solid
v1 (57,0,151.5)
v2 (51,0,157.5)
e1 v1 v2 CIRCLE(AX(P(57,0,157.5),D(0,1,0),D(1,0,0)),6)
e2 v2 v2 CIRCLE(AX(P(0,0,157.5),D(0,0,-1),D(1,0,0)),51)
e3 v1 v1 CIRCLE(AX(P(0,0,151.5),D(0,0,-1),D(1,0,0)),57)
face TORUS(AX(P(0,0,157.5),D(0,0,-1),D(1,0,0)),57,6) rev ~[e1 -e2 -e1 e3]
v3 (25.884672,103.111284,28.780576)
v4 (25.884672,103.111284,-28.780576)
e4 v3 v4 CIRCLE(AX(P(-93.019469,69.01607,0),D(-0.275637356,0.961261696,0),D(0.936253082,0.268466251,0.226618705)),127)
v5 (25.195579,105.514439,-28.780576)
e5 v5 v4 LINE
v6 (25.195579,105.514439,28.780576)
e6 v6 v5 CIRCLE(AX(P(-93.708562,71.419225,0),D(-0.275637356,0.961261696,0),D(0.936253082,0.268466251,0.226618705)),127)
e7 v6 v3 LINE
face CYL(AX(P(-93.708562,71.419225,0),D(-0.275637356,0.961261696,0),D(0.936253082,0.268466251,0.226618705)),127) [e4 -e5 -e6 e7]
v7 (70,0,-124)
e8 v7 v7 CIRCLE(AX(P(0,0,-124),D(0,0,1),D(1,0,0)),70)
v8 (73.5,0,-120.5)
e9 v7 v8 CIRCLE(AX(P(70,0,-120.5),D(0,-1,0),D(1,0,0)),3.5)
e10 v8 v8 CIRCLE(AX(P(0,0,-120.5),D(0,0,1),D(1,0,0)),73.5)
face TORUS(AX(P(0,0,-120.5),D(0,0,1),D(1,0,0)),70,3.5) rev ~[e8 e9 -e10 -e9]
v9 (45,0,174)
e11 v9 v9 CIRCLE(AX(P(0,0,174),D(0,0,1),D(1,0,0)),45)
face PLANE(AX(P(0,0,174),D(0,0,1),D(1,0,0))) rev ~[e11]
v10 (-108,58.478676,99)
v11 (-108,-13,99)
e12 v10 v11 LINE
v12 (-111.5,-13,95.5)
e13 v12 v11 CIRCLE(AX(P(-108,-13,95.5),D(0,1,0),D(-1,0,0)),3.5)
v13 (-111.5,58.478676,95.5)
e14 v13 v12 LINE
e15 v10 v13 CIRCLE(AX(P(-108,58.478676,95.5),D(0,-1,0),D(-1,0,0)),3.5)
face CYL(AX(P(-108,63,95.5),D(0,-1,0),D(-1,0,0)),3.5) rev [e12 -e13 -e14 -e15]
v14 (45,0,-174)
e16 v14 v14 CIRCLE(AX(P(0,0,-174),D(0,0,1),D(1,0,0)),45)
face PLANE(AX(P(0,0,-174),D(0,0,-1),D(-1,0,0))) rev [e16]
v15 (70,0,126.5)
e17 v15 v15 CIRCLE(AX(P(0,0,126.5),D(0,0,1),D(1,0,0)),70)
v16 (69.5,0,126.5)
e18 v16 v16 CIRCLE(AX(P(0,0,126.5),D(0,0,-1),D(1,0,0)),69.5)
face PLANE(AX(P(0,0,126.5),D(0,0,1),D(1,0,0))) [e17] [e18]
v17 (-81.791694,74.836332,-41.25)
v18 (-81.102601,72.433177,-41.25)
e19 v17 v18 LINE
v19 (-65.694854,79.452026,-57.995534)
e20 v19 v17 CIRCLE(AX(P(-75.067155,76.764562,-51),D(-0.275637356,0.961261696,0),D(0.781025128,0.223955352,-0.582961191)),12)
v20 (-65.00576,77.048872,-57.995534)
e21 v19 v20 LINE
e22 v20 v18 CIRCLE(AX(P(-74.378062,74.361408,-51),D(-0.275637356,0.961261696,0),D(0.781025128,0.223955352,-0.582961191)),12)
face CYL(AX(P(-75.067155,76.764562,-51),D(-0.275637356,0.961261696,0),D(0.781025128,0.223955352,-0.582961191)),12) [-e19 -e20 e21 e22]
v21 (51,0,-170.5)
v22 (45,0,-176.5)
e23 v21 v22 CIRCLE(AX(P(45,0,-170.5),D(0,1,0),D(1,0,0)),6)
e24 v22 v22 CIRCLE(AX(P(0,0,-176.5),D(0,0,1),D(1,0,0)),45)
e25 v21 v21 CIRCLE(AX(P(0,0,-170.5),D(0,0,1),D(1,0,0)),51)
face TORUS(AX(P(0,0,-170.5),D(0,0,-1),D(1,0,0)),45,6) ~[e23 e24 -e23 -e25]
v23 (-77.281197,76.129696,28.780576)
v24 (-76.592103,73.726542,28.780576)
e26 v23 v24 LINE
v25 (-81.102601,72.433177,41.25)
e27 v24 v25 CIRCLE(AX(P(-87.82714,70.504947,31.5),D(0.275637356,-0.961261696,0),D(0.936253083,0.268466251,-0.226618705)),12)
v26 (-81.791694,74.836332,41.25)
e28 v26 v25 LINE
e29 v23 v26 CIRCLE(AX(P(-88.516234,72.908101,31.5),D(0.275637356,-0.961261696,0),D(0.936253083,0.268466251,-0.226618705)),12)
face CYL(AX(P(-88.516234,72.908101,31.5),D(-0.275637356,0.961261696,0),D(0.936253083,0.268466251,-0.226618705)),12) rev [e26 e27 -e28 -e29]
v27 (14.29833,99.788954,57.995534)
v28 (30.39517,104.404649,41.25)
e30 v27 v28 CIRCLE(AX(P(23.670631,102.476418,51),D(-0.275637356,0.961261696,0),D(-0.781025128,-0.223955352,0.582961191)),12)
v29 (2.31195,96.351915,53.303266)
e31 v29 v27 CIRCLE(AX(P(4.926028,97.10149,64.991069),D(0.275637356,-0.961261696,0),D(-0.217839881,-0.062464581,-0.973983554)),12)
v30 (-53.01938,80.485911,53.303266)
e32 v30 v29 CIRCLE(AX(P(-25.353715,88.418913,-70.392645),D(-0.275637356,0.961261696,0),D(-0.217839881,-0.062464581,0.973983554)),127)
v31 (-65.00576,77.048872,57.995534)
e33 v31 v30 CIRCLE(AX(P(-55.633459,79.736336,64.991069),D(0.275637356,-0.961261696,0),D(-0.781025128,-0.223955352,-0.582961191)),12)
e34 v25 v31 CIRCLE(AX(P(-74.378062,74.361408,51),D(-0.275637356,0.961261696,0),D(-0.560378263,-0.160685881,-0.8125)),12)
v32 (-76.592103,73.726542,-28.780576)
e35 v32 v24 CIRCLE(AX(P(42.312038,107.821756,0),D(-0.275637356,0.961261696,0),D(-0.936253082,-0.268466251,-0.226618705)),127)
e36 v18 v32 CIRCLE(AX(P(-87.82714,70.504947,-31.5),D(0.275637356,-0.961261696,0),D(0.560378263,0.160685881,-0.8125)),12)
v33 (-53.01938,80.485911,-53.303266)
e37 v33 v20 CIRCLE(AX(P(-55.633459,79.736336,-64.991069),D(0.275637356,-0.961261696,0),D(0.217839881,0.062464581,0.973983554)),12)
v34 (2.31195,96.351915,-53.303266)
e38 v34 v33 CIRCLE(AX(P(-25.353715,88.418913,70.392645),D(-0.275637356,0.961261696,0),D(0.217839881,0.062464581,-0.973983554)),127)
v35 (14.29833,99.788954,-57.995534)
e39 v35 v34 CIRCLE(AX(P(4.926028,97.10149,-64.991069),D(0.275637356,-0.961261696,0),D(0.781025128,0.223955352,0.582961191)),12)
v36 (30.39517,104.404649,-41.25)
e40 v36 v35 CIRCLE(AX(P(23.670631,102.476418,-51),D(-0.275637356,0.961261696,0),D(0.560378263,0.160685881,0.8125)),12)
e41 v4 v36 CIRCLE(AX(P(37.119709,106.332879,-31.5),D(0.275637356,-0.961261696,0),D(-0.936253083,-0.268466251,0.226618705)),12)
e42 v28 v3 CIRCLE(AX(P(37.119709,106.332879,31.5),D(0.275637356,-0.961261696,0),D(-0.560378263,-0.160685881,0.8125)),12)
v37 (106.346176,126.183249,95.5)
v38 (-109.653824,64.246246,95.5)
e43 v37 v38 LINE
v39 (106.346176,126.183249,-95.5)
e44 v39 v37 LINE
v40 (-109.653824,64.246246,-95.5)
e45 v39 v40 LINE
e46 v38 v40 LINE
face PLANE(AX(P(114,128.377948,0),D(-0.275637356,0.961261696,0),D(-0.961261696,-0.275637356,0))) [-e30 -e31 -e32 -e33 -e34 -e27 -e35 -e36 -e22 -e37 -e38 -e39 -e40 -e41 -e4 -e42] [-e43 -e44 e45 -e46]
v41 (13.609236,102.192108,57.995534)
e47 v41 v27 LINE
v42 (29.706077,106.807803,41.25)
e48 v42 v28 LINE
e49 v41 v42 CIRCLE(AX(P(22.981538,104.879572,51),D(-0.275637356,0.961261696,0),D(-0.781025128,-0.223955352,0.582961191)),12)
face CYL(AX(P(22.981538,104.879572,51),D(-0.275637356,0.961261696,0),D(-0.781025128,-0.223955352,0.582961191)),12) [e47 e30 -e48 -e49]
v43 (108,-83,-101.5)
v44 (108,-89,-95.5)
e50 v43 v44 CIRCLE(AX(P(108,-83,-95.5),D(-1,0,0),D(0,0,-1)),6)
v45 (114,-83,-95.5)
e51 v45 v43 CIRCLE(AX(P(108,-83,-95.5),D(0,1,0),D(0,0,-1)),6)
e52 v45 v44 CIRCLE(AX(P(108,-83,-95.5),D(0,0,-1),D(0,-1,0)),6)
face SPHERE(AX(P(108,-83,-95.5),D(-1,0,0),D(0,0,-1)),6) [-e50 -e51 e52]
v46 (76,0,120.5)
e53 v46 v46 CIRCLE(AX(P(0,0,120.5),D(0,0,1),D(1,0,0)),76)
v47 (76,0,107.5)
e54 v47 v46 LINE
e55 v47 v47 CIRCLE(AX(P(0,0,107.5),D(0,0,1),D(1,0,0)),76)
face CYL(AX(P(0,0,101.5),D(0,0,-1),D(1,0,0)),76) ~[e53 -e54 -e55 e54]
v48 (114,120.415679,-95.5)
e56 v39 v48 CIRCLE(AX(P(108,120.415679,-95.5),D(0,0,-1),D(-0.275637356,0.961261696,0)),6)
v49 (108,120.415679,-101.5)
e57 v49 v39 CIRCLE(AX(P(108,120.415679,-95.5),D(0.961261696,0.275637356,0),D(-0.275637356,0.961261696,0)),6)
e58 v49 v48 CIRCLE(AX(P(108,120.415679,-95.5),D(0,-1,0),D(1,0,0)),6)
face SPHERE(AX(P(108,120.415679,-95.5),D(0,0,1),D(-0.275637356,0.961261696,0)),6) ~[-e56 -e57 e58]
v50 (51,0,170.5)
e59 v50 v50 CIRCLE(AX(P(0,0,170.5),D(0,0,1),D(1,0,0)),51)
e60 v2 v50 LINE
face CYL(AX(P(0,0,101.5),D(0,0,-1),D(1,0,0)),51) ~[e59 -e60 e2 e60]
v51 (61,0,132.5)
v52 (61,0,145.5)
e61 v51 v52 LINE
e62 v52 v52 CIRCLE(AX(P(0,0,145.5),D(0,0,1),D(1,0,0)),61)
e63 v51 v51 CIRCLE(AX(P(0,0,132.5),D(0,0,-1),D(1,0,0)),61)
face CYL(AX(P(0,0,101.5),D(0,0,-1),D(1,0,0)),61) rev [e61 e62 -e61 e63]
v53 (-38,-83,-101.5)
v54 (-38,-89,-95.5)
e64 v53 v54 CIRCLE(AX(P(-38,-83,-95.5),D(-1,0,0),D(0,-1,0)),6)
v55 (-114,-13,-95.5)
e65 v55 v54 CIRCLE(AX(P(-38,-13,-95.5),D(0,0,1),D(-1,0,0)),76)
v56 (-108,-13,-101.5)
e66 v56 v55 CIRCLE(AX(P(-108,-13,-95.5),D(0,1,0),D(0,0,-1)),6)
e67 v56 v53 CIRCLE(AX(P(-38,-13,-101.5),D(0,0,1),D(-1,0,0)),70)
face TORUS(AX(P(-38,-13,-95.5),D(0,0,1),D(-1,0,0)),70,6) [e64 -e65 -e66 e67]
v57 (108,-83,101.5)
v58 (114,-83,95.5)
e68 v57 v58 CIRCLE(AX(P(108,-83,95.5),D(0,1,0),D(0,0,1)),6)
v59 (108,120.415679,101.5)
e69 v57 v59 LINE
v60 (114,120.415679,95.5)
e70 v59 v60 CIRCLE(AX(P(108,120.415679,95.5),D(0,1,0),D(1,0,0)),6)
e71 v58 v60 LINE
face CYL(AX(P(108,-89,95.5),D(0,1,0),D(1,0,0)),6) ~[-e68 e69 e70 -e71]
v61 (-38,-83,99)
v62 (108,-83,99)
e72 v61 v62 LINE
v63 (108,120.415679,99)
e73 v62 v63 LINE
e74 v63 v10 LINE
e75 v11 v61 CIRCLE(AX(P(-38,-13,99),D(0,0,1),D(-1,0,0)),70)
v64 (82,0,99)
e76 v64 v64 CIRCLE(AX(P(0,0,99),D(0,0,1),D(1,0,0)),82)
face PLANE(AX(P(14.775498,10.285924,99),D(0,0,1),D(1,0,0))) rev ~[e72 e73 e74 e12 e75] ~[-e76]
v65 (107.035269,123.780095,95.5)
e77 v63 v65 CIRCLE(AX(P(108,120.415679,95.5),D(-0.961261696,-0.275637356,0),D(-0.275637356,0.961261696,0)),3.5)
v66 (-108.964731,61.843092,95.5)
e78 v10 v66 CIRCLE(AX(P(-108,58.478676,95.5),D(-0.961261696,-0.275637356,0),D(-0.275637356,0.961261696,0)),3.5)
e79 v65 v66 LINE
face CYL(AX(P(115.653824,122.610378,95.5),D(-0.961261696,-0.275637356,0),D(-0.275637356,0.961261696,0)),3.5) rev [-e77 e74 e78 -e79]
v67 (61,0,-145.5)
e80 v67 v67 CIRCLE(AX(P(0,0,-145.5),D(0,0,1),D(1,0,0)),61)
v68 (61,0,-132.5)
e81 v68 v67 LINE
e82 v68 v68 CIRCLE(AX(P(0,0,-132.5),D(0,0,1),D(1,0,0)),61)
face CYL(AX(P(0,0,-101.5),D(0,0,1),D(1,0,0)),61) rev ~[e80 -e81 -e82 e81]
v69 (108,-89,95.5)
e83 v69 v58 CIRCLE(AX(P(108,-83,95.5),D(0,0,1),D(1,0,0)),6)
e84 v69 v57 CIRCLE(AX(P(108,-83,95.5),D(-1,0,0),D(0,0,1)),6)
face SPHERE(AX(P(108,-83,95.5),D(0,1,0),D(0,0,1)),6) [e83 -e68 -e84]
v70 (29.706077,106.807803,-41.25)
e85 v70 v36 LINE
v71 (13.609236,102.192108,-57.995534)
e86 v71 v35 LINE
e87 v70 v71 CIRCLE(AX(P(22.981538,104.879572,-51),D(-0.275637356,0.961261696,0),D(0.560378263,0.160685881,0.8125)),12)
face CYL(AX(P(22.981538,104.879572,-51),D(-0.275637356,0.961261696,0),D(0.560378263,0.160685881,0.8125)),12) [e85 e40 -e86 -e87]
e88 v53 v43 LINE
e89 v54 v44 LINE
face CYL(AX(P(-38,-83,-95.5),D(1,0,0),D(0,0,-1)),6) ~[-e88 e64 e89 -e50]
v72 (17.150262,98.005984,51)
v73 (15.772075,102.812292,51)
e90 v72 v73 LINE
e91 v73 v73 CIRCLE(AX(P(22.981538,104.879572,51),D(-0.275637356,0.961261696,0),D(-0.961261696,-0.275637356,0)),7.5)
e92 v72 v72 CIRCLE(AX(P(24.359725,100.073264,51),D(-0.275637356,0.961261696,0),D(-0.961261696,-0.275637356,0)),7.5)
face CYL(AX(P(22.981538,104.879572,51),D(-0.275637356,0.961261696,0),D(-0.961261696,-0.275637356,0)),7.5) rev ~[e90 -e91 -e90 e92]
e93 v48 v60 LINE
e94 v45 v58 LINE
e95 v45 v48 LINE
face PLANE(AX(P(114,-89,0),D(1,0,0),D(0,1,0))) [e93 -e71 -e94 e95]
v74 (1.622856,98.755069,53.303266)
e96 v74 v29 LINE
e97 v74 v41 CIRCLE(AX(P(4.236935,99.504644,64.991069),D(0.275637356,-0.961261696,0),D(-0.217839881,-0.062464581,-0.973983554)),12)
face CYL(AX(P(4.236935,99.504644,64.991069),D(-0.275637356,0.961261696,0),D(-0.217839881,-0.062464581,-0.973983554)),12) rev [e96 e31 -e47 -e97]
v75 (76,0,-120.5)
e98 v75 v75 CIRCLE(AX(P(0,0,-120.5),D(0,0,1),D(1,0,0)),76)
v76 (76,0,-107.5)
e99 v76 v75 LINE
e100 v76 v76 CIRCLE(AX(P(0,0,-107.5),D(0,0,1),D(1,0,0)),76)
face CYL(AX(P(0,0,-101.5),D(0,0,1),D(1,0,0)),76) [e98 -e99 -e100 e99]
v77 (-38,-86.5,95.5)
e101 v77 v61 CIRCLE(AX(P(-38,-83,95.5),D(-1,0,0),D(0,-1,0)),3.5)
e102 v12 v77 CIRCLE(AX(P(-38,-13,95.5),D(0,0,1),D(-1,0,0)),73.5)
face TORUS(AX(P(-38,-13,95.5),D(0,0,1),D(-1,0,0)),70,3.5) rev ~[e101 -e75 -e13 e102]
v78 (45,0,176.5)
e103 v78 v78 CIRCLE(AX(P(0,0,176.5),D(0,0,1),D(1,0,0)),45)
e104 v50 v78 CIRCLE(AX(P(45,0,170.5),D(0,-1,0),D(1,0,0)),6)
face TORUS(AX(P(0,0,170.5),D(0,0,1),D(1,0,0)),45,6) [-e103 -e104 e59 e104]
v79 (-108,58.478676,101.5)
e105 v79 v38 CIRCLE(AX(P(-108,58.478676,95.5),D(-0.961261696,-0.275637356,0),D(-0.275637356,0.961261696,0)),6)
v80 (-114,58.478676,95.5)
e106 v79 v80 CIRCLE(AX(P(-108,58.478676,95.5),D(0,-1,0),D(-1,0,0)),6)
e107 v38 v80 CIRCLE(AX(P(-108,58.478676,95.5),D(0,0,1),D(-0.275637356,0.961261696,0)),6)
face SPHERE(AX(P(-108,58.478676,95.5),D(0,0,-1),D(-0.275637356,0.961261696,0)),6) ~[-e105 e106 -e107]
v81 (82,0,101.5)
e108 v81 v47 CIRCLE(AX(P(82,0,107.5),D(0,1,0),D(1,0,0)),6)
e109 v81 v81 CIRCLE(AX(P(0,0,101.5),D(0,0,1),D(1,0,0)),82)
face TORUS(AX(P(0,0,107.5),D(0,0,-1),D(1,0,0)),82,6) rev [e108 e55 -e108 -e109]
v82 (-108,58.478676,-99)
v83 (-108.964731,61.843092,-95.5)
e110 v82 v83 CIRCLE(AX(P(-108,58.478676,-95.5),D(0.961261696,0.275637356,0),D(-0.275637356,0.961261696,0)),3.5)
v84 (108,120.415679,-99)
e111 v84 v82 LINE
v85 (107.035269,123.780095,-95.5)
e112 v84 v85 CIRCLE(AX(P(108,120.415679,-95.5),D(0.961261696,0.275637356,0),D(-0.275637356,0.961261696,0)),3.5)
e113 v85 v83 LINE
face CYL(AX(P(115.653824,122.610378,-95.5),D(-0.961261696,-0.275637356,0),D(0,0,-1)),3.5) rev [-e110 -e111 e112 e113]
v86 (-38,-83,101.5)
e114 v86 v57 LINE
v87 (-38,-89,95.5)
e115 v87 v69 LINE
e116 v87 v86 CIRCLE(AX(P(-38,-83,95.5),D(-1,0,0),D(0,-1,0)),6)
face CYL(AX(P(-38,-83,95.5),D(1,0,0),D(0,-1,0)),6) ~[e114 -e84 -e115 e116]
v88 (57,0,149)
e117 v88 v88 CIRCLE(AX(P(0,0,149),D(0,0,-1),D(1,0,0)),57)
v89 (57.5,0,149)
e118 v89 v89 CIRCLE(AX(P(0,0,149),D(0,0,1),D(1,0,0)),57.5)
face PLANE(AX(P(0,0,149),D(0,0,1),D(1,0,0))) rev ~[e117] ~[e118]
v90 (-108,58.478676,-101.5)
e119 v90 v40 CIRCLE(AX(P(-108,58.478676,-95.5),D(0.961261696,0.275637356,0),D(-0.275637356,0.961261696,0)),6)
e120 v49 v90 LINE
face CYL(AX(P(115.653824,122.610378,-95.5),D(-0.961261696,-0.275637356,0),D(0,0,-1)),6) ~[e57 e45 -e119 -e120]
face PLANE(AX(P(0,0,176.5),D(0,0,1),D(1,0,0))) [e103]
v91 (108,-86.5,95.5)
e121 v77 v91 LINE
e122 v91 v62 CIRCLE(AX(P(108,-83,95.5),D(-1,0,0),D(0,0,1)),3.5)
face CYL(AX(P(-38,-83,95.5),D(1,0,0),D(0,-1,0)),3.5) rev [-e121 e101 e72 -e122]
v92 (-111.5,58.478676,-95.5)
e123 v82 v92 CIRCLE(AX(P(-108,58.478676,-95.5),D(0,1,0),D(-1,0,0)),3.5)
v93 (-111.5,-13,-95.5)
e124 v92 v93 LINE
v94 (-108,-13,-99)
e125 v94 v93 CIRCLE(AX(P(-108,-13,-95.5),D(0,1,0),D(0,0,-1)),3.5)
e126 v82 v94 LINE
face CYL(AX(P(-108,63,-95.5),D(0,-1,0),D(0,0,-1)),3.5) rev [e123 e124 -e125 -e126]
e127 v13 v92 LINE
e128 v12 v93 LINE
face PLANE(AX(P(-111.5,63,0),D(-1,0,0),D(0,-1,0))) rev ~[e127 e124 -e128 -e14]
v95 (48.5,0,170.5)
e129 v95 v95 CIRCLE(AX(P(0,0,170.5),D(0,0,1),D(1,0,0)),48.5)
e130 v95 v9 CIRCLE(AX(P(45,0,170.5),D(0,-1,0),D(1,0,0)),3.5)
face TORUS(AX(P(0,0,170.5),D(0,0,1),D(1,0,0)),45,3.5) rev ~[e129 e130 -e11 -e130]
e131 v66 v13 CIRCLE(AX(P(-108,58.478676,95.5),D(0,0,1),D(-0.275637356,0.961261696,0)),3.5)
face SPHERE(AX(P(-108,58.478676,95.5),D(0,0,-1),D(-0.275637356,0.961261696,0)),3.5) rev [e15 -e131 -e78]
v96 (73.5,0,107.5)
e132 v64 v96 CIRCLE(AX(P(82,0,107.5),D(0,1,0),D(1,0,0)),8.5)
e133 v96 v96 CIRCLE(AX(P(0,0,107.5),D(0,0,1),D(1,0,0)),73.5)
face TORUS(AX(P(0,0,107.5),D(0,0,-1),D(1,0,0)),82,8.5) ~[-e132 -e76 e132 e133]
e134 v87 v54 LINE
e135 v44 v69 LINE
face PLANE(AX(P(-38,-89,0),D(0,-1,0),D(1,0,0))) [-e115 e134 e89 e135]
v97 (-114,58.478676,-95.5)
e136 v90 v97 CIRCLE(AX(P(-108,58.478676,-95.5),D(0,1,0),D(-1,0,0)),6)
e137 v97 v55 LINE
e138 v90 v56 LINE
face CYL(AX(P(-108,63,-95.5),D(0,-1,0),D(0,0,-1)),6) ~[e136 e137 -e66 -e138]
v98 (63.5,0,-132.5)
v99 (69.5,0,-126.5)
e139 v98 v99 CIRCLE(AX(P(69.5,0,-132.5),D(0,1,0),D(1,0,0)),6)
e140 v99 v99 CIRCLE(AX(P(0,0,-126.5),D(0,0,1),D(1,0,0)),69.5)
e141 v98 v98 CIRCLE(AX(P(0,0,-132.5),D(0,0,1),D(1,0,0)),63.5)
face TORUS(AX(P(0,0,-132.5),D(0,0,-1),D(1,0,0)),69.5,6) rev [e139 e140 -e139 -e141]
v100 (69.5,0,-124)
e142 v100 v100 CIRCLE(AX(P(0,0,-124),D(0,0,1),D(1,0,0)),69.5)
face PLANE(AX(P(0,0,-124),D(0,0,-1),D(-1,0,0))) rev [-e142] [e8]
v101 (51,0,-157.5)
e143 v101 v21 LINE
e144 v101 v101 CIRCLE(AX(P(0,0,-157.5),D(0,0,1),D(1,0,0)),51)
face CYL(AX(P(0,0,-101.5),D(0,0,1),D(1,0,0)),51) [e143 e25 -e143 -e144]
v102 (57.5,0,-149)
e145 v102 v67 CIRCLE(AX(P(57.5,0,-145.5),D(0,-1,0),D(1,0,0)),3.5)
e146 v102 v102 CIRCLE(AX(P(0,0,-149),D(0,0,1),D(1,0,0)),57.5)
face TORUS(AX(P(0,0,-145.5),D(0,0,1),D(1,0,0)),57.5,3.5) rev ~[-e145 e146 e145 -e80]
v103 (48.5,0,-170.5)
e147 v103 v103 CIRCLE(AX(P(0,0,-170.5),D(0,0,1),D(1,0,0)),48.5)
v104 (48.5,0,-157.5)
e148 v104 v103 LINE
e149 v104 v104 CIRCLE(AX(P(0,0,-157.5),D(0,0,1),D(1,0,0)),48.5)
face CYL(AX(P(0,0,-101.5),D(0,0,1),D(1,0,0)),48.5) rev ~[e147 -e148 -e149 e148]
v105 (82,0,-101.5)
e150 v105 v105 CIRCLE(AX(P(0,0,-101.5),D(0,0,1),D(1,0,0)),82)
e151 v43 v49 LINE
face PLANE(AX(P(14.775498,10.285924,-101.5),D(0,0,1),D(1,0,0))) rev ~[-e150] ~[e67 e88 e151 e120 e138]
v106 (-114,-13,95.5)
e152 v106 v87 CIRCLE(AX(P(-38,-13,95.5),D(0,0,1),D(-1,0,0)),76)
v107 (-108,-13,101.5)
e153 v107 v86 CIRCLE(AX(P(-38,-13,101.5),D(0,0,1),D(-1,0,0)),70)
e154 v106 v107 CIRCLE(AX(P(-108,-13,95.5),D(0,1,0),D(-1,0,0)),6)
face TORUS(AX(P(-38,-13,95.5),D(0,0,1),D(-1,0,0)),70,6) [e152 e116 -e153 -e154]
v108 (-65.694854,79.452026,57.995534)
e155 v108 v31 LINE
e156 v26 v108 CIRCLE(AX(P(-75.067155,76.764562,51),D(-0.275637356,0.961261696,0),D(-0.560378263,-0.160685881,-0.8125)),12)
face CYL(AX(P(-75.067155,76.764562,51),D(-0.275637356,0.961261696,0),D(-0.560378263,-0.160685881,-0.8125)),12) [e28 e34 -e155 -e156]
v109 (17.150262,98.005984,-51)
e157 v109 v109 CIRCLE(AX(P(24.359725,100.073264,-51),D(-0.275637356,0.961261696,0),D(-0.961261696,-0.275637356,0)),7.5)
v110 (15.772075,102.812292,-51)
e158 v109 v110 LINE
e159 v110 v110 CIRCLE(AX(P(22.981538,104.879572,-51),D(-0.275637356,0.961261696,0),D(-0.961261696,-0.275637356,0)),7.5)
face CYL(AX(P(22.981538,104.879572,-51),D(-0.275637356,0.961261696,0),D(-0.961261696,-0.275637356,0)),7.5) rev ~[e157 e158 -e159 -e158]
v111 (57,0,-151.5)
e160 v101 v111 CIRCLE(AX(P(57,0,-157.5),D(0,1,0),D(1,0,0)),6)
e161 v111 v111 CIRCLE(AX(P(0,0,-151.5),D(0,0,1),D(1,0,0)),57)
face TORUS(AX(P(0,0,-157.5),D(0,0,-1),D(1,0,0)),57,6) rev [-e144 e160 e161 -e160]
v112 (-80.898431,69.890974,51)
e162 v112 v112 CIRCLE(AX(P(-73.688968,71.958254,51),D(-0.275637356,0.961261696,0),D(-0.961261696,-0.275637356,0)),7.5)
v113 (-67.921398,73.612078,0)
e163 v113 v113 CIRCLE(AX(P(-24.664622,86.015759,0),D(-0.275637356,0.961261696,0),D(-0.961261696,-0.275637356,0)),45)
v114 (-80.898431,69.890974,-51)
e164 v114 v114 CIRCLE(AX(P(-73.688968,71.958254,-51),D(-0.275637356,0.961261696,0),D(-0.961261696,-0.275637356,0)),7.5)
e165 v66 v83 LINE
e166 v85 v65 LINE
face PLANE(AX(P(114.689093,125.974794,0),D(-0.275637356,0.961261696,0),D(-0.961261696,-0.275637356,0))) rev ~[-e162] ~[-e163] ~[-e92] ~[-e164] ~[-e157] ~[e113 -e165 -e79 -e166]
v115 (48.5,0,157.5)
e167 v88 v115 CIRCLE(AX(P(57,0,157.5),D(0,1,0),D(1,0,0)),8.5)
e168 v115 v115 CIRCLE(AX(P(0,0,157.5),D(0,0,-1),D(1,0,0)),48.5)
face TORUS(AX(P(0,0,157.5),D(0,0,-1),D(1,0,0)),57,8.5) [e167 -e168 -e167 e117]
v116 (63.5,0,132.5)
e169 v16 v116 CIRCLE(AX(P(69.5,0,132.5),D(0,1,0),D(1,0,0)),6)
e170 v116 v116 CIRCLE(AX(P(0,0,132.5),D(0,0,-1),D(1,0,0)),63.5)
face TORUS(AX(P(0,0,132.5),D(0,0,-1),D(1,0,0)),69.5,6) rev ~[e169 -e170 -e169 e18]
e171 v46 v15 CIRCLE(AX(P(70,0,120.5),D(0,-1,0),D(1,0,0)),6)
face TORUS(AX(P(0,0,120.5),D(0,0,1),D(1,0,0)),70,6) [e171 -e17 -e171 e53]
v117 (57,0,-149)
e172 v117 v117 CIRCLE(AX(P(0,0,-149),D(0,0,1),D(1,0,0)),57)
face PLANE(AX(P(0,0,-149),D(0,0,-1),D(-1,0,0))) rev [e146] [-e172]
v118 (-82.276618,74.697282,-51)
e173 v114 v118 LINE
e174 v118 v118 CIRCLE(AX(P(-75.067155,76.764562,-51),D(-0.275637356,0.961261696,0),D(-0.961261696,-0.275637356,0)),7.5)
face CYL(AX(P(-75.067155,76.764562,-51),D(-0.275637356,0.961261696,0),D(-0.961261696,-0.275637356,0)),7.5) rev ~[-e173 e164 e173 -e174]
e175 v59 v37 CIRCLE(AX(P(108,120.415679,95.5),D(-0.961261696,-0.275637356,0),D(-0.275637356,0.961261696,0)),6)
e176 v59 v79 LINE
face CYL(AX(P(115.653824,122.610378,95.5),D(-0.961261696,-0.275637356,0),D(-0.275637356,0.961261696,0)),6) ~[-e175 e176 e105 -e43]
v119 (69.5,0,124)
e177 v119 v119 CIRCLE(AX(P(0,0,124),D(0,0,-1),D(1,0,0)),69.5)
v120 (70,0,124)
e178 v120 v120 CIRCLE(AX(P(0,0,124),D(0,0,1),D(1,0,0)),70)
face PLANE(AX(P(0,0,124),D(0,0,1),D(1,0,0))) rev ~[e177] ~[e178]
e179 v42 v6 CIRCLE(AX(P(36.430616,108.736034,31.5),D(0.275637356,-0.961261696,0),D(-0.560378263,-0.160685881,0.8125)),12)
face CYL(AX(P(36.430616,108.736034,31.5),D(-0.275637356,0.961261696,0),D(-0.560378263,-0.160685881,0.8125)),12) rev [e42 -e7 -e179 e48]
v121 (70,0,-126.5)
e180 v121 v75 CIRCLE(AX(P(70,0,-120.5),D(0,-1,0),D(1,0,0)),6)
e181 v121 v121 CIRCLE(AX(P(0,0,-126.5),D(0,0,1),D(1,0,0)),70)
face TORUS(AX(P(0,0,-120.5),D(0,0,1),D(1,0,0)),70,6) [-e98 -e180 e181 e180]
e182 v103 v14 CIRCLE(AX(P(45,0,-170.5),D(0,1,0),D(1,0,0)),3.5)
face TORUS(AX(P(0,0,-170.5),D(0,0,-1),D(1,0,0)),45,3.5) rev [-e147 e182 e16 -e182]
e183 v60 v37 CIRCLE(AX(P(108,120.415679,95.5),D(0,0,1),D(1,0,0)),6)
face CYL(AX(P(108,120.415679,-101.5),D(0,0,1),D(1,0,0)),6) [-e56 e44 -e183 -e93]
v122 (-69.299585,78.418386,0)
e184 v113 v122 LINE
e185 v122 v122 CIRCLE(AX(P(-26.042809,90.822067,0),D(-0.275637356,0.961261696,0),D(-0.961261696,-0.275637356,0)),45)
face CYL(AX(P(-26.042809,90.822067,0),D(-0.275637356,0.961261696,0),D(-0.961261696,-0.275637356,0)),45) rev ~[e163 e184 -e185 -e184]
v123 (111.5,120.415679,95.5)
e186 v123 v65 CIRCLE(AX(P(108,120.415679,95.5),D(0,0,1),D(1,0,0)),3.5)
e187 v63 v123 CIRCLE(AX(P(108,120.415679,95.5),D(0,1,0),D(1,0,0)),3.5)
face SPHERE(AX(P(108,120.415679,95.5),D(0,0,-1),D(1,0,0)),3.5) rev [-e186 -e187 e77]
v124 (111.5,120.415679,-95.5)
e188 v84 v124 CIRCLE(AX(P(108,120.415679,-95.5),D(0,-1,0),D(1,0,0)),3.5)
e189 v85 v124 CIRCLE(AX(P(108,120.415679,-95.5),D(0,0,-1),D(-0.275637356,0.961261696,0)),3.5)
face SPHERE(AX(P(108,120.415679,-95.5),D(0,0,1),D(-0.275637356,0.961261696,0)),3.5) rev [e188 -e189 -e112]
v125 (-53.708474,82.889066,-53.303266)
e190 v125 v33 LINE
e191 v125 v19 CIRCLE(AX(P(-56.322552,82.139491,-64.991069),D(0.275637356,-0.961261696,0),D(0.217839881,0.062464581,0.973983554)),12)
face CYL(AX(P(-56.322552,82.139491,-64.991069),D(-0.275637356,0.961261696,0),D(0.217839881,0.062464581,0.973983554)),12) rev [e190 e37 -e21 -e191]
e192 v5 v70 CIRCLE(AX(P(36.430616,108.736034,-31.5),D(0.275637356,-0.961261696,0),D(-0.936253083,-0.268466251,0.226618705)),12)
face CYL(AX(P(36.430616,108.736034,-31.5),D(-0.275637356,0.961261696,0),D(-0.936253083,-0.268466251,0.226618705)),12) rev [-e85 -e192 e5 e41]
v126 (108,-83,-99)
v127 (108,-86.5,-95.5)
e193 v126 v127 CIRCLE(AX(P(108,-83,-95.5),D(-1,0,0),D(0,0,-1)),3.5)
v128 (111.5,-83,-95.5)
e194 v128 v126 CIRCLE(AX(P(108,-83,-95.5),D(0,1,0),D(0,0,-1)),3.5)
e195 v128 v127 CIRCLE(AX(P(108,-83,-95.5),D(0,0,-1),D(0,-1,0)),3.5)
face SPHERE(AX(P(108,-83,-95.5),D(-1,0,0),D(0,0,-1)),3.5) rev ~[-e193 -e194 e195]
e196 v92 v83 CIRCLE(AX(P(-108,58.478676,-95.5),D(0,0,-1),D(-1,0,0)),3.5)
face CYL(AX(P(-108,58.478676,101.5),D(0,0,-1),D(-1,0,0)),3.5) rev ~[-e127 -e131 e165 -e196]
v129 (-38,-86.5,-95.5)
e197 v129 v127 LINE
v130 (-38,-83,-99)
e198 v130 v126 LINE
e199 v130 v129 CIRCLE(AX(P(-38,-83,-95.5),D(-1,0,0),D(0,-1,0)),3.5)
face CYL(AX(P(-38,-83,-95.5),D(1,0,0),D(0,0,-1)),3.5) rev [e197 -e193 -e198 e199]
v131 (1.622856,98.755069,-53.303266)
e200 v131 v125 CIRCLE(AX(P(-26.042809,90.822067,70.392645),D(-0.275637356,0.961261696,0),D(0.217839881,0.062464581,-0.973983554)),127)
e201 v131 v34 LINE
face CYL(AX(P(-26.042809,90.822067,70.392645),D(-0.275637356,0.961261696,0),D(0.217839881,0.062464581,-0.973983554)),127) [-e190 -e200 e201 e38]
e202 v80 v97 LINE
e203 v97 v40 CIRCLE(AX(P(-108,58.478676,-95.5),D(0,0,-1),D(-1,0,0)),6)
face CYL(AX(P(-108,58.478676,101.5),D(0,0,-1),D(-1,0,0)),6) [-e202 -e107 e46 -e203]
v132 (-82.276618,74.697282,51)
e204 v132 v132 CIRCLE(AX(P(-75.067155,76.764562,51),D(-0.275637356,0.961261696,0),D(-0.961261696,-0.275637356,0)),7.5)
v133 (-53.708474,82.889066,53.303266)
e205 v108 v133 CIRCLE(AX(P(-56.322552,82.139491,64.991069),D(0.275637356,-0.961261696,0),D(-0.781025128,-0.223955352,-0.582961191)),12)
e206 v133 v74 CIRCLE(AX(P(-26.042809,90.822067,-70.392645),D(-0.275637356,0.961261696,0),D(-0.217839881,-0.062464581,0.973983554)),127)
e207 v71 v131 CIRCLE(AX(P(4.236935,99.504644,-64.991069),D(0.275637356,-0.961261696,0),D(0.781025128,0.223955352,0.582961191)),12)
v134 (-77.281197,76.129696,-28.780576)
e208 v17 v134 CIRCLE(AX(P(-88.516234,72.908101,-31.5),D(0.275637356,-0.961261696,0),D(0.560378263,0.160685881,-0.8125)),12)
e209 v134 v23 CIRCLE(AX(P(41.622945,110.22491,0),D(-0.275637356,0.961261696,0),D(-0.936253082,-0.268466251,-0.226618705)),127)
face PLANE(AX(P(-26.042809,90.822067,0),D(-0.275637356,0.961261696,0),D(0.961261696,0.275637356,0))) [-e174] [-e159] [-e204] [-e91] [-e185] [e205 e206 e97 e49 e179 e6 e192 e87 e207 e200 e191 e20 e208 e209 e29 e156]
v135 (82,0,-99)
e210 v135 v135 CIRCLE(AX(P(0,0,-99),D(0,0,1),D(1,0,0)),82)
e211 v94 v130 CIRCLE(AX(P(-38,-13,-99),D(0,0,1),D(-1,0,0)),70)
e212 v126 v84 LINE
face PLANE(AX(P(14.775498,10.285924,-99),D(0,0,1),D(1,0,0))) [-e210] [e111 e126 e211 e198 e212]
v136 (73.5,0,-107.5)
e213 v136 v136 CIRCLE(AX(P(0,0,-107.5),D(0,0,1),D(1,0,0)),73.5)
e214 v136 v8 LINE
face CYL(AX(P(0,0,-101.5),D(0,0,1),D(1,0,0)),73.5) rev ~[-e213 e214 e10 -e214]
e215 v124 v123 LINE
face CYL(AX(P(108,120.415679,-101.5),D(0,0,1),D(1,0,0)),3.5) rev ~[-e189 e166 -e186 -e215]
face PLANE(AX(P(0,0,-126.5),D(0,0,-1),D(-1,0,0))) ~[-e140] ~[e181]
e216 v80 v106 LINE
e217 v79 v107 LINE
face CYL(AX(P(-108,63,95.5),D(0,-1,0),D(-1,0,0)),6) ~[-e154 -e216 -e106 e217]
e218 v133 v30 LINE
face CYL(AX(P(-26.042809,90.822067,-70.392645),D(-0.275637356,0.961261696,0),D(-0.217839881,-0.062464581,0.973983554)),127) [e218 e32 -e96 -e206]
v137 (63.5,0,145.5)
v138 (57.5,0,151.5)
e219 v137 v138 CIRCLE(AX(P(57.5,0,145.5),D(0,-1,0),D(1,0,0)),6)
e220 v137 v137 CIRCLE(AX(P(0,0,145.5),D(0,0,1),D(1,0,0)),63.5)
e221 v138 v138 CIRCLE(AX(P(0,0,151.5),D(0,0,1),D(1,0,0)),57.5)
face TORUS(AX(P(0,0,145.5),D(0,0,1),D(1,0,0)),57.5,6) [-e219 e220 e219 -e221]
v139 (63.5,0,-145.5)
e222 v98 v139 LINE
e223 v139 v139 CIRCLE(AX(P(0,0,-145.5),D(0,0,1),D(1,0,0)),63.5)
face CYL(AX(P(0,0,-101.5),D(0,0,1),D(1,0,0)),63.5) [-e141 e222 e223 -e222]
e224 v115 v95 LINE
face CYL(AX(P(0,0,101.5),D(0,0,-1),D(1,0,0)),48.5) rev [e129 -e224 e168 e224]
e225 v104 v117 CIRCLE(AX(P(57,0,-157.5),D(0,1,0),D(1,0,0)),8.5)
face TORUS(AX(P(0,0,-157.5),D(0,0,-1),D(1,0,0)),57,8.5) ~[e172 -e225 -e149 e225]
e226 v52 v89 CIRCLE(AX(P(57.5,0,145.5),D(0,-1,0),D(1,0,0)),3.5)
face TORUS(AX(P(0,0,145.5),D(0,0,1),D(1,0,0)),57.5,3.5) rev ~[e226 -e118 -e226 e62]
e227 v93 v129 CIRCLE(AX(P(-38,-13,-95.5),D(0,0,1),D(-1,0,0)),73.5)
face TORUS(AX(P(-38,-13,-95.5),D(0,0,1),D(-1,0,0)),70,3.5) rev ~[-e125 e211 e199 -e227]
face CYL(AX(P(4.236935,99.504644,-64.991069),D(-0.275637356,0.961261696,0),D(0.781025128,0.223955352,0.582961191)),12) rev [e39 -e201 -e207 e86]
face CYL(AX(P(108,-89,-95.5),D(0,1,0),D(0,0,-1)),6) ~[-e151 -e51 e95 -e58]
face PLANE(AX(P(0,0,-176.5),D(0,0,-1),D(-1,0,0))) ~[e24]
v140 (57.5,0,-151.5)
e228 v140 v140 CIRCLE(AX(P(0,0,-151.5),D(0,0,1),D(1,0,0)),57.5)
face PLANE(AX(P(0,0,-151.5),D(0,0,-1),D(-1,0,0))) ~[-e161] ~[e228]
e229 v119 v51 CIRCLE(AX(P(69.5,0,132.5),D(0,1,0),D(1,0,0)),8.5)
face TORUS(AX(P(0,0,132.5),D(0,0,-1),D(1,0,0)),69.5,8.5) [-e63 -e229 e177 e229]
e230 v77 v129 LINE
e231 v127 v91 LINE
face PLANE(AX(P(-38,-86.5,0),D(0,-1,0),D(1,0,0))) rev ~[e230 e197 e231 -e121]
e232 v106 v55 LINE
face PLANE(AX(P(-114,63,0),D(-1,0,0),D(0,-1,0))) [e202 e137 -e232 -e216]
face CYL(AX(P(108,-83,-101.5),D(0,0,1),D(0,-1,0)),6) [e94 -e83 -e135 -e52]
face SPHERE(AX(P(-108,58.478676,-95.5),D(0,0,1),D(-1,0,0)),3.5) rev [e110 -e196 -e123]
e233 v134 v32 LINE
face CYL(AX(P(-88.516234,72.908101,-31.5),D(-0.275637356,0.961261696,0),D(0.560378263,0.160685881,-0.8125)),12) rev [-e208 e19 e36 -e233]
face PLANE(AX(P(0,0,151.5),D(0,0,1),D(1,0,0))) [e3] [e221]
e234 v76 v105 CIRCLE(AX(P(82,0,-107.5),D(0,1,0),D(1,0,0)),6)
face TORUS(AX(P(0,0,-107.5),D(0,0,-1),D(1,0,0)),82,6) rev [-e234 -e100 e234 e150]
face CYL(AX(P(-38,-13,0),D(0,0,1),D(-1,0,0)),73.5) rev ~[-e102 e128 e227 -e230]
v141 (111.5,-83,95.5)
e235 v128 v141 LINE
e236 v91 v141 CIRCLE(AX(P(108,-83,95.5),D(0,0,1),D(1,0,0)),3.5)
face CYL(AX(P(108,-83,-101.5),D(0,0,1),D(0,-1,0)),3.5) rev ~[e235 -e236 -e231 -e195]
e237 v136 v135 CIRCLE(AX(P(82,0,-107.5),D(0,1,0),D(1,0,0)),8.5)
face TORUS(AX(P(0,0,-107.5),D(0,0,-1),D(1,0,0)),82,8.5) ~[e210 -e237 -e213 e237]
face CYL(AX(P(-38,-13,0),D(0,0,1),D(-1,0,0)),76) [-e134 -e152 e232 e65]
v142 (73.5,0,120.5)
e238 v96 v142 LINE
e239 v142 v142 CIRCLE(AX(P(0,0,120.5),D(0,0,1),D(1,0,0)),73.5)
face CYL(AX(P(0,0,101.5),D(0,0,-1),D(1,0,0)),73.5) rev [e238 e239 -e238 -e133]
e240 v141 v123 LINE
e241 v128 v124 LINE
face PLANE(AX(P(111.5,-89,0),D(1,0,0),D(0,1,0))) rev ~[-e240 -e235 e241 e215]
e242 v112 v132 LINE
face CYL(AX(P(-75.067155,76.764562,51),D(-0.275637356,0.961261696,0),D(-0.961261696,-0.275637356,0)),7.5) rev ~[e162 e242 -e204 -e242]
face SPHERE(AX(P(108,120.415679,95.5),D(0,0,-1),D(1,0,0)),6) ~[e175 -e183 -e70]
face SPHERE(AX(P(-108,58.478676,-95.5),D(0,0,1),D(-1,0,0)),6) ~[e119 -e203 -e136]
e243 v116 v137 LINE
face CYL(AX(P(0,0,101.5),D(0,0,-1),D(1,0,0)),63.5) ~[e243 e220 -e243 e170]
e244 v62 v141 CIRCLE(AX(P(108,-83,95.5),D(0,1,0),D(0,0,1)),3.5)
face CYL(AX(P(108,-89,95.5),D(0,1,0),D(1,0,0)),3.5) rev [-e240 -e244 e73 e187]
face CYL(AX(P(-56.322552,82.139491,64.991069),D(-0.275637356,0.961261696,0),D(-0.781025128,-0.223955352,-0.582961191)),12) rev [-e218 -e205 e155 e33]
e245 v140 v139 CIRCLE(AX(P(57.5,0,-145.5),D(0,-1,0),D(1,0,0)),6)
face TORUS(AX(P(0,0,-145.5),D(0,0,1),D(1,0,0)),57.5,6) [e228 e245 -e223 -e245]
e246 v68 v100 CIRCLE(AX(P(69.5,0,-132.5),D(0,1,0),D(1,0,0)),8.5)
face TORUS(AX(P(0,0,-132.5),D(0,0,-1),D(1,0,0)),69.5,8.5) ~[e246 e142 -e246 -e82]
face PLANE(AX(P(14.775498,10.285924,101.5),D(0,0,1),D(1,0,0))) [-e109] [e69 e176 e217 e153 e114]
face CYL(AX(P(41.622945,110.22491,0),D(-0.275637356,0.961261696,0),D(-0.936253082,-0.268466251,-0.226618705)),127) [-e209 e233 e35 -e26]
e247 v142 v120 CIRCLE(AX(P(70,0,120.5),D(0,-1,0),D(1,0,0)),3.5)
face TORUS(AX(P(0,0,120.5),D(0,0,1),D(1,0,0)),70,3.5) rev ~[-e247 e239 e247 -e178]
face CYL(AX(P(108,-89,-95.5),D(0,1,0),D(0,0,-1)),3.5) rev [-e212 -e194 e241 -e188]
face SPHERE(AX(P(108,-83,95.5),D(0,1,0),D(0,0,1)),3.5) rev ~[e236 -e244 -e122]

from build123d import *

# Parameters (mm, degrees)
BOSS_EXTRUDE1_DEPTH = 101.5
SKETCH4_R           = 76
BOSS_EXTRUDE3_DEPTH = 25
SKETCH4_4_R         = 63.5
BOSS_EXTRUDE4_DEPTH = 50
SKETCH4_5_R         = 51
BOSS_EXTRUDE5_DEPTH = 75
FILLET7_R           = 6
SHELL1_T            = 2.5
SKETCH5_R           = 45
SKETCH5_R_2         = 7.5
CUT_EXTRUDE1_DEPTH  = 10
BOSS_EXTRUDE6_START = 2.5
SKETCH5_4_R         = 45
SKETCH5_4_R_2       = 7.5
BOSS_EXTRUDE6_DEPTH = 2.5


with BuildPart() as part:
    # Sketch3 → Boss-Extrude1 (new, symmetric)
    with BuildSketch(Plane.XY):
        with BuildLine():
            Line((-38, -89), (114, -89))
            Line((114, -89), (114, 128.377947953))
            Line((114, 128.377947953), (-114, 63))
            Line((-114, 63), (-114, -13))
            ThreePointArc((-114, -13), (-91.74011537, -66.74011537), (-38, -89))
        make_face()
    extrude(amount=BOSS_EXTRUDE1_DEPTH, both=True)

    # Sketch4 → Boss-Extrude3 (add)
    with BuildSketch(Plane.XY.offset(101.5)):
        Circle(SKETCH4_R)
    boss_extrude3 = extrude(amount=BOSS_EXTRUDE3_DEPTH)

    # Sketch4<4> → Boss-Extrude4 (add)
    with BuildSketch(Plane.XY.offset(101.5)):
        Circle(SKETCH4_4_R)
    boss_extrude4 = extrude(amount=BOSS_EXTRUDE4_DEPTH)

    # Sketch4<5> → Boss-Extrude5 (add)
    with BuildSketch(Plane.XY.offset(101.5)):
        Circle(SKETCH4_5_R)
    boss_extrude5 = extrude(amount=BOSS_EXTRUDE5_DEPTH)

    # Mirror1: Boss-Extrude3, Boss-Extrude4, Boss-Extrude5 across plane
    add(boss_extrude3.mirror(Plane.XY))
    add(boss_extrude4.mirror(Plane.XY))
    add(boss_extrude5.mirror(Plane.XY))

    # Fillet7
    fillet7_edges = [part.edges().sort_by_distance(p)[0] for p in [
        (114, 19.688973977, 101.5),
        (-76, 0, 101.5),
        (0, 95.688973977, 101.5),
        (-76, 0, 126.5),
        (-114, 25, 101.5),
        (-63.5, 0, 126.5),
        (-63.5, 0, 151.5),
        (-51, 0, 151.5),
        (-51, 0, 176.5),
        (-76, 0, -126.5),
        (-76, 0, -101.5),
        (-63.5, 0, -126.5),
        (-63.5, 0, -151.5),
        (-51, 0, -151.5),
        (-51, 0, -176.5),
        (-91.74011537, -66.74011537, 101.5),
        (-114, 25, -101.5),
        (0, 95.688973977, -101.5),
        (114, 19.688973977, -101.5),
        (38, -89, -101.5),
        (-91.74011537, -66.74011537, -101.5),
        (38, -89, 101.5),
        (-114, 63, 0),
        (114, 128.377947953, 0),
        (114, -89, 0),
    ]]
    fillet(fillet7_edges, radius=FILLET7_R)

    # Shell1 (no face opened: a closed hollow body)
    add(offset(amount=-SHELL1_T, mode=Mode.PRIVATE), mode=Mode.SUBTRACT)

    # Sketch5 → Cut-Extrude1 (cut)
    with BuildSketch(Plane(origin=(-25.353715342, 88.41891309, 0), x_dir=(0.9612616959383197, 0.2756373558169965, 0), z_dir=(-0.27563735581699655, 0.9612616959383198, 0))):
        with Locations(Location((0, 0, 0), (0, 0, 180))):
            Circle(SKETCH5_R)
        with Locations(Location((-51, 51, 0), (0, 0, 180))):
            Circle(SKETCH5_R_2)
        with Locations(Location((51, 51, 0), (0, 0, 180))):
            Circle(SKETCH5_R_2)
        with Locations(Location((51, -51, 0), (0, 0, 180))):
            Circle(SKETCH5_R_2)
        with Locations(Location((-51, -51, 0), (0, 0, 180))):
            Circle(SKETCH5_R_2)
    extrude(amount=-CUT_EXTRUDE1_DEPTH, mode=Mode.SUBTRACT)

    # Sketch5<4> → Boss-Extrude6 (add)
    with BuildSketch(Plane(origin=(-25.353715342, 88.41891309, 0), x_dir=(0.9612616959383197, 0.2756373558169965, 0), z_dir=(-0.27563735581699655, 0.9612616959383198, 0)).offset(BOSS_EXTRUDE6_START)):
        with BuildLine():
            ThreePointArc((57.99553429, 41.25), (59.485281374, 59.485281374), (41.25, 57.99553429))
            ThreePointArc((41.25, 57.99553429), (35.726297869, 53.759933004), (28.78057554, 53.303265937))
            ThreePointArc((28.78057554, 53.303265937), (0, 56.60735464), (-28.78057554, 53.303265937))
            ThreePointArc((-28.78057554, 53.303265937), (-35.726297869, 53.759933004), (-41.25, 57.99553429))
            ThreePointArc((-41.25, 57.99553429), (-59.485281374, 59.485281374), (-57.99553429, 41.25))
            ThreePointArc((-57.99553429, 41.25), (-53.759933004, 35.726297869), (-53.303265937, 28.78057554))
            ThreePointArc((-53.303265937, 28.78057554), (-56.60735464, 0), (-53.303265937, -28.78057554))
            ThreePointArc((-53.303265937, -28.78057554), (-53.759933004, -35.726297869), (-57.99553429, -41.25))
            ThreePointArc((-57.99553429, -41.25), (-59.485281374, -59.485281374), (-41.25, -57.99553429))
            ThreePointArc((-41.25, -57.99553429), (-35.726297869, -53.759933004), (-28.78057554, -53.303265937))
            ThreePointArc((-28.78057554, -53.303265937), (0, -56.60735464), (28.78057554, -53.303265937))
            ThreePointArc((28.78057554, -53.303265937), (35.726297869, -53.759933004), (41.25, -57.99553429))
            ThreePointArc((41.25, -57.99553429), (59.485281374, -59.485281374), (57.99553429, -41.25))
            ThreePointArc((57.99553429, -41.25), (53.759933004, -35.726297869), (53.303265937, -28.78057554))
            ThreePointArc((53.303265937, -28.78057554), (56.60735464, 0), (53.303265937, 28.78057554))
            ThreePointArc((53.303265937, 28.78057554), (53.759933004, 35.726297869), (57.99553429, 41.25))
        make_face()
        with Locations(Location((0, 0, 0), (0, 0, 180))):
            Circle(SKETCH5_4_R, mode=Mode.SUBTRACT)
        with Locations(Location((-51, 51, 0), (0, 0, 180))):
            Circle(SKETCH5_4_R_2, mode=Mode.SUBTRACT)
        with Locations(Location((51, 51, 0), (0, 0, 180))):
            Circle(SKETCH5_4_R_2, mode=Mode.SUBTRACT)
        with Locations(Location((51, -51, 0), (0, 0, 180))):
            Circle(SKETCH5_4_R_2, mode=Mode.SUBTRACT)
        with Locations(Location((-51, -51, 0), (0, 0, 180))):
            Circle(SKETCH5_4_R_2, mode=Mode.SUBTRACT)
    extrude(amount=-BOSS_EXTRUDE6_DEPTH)


solid = part.part
